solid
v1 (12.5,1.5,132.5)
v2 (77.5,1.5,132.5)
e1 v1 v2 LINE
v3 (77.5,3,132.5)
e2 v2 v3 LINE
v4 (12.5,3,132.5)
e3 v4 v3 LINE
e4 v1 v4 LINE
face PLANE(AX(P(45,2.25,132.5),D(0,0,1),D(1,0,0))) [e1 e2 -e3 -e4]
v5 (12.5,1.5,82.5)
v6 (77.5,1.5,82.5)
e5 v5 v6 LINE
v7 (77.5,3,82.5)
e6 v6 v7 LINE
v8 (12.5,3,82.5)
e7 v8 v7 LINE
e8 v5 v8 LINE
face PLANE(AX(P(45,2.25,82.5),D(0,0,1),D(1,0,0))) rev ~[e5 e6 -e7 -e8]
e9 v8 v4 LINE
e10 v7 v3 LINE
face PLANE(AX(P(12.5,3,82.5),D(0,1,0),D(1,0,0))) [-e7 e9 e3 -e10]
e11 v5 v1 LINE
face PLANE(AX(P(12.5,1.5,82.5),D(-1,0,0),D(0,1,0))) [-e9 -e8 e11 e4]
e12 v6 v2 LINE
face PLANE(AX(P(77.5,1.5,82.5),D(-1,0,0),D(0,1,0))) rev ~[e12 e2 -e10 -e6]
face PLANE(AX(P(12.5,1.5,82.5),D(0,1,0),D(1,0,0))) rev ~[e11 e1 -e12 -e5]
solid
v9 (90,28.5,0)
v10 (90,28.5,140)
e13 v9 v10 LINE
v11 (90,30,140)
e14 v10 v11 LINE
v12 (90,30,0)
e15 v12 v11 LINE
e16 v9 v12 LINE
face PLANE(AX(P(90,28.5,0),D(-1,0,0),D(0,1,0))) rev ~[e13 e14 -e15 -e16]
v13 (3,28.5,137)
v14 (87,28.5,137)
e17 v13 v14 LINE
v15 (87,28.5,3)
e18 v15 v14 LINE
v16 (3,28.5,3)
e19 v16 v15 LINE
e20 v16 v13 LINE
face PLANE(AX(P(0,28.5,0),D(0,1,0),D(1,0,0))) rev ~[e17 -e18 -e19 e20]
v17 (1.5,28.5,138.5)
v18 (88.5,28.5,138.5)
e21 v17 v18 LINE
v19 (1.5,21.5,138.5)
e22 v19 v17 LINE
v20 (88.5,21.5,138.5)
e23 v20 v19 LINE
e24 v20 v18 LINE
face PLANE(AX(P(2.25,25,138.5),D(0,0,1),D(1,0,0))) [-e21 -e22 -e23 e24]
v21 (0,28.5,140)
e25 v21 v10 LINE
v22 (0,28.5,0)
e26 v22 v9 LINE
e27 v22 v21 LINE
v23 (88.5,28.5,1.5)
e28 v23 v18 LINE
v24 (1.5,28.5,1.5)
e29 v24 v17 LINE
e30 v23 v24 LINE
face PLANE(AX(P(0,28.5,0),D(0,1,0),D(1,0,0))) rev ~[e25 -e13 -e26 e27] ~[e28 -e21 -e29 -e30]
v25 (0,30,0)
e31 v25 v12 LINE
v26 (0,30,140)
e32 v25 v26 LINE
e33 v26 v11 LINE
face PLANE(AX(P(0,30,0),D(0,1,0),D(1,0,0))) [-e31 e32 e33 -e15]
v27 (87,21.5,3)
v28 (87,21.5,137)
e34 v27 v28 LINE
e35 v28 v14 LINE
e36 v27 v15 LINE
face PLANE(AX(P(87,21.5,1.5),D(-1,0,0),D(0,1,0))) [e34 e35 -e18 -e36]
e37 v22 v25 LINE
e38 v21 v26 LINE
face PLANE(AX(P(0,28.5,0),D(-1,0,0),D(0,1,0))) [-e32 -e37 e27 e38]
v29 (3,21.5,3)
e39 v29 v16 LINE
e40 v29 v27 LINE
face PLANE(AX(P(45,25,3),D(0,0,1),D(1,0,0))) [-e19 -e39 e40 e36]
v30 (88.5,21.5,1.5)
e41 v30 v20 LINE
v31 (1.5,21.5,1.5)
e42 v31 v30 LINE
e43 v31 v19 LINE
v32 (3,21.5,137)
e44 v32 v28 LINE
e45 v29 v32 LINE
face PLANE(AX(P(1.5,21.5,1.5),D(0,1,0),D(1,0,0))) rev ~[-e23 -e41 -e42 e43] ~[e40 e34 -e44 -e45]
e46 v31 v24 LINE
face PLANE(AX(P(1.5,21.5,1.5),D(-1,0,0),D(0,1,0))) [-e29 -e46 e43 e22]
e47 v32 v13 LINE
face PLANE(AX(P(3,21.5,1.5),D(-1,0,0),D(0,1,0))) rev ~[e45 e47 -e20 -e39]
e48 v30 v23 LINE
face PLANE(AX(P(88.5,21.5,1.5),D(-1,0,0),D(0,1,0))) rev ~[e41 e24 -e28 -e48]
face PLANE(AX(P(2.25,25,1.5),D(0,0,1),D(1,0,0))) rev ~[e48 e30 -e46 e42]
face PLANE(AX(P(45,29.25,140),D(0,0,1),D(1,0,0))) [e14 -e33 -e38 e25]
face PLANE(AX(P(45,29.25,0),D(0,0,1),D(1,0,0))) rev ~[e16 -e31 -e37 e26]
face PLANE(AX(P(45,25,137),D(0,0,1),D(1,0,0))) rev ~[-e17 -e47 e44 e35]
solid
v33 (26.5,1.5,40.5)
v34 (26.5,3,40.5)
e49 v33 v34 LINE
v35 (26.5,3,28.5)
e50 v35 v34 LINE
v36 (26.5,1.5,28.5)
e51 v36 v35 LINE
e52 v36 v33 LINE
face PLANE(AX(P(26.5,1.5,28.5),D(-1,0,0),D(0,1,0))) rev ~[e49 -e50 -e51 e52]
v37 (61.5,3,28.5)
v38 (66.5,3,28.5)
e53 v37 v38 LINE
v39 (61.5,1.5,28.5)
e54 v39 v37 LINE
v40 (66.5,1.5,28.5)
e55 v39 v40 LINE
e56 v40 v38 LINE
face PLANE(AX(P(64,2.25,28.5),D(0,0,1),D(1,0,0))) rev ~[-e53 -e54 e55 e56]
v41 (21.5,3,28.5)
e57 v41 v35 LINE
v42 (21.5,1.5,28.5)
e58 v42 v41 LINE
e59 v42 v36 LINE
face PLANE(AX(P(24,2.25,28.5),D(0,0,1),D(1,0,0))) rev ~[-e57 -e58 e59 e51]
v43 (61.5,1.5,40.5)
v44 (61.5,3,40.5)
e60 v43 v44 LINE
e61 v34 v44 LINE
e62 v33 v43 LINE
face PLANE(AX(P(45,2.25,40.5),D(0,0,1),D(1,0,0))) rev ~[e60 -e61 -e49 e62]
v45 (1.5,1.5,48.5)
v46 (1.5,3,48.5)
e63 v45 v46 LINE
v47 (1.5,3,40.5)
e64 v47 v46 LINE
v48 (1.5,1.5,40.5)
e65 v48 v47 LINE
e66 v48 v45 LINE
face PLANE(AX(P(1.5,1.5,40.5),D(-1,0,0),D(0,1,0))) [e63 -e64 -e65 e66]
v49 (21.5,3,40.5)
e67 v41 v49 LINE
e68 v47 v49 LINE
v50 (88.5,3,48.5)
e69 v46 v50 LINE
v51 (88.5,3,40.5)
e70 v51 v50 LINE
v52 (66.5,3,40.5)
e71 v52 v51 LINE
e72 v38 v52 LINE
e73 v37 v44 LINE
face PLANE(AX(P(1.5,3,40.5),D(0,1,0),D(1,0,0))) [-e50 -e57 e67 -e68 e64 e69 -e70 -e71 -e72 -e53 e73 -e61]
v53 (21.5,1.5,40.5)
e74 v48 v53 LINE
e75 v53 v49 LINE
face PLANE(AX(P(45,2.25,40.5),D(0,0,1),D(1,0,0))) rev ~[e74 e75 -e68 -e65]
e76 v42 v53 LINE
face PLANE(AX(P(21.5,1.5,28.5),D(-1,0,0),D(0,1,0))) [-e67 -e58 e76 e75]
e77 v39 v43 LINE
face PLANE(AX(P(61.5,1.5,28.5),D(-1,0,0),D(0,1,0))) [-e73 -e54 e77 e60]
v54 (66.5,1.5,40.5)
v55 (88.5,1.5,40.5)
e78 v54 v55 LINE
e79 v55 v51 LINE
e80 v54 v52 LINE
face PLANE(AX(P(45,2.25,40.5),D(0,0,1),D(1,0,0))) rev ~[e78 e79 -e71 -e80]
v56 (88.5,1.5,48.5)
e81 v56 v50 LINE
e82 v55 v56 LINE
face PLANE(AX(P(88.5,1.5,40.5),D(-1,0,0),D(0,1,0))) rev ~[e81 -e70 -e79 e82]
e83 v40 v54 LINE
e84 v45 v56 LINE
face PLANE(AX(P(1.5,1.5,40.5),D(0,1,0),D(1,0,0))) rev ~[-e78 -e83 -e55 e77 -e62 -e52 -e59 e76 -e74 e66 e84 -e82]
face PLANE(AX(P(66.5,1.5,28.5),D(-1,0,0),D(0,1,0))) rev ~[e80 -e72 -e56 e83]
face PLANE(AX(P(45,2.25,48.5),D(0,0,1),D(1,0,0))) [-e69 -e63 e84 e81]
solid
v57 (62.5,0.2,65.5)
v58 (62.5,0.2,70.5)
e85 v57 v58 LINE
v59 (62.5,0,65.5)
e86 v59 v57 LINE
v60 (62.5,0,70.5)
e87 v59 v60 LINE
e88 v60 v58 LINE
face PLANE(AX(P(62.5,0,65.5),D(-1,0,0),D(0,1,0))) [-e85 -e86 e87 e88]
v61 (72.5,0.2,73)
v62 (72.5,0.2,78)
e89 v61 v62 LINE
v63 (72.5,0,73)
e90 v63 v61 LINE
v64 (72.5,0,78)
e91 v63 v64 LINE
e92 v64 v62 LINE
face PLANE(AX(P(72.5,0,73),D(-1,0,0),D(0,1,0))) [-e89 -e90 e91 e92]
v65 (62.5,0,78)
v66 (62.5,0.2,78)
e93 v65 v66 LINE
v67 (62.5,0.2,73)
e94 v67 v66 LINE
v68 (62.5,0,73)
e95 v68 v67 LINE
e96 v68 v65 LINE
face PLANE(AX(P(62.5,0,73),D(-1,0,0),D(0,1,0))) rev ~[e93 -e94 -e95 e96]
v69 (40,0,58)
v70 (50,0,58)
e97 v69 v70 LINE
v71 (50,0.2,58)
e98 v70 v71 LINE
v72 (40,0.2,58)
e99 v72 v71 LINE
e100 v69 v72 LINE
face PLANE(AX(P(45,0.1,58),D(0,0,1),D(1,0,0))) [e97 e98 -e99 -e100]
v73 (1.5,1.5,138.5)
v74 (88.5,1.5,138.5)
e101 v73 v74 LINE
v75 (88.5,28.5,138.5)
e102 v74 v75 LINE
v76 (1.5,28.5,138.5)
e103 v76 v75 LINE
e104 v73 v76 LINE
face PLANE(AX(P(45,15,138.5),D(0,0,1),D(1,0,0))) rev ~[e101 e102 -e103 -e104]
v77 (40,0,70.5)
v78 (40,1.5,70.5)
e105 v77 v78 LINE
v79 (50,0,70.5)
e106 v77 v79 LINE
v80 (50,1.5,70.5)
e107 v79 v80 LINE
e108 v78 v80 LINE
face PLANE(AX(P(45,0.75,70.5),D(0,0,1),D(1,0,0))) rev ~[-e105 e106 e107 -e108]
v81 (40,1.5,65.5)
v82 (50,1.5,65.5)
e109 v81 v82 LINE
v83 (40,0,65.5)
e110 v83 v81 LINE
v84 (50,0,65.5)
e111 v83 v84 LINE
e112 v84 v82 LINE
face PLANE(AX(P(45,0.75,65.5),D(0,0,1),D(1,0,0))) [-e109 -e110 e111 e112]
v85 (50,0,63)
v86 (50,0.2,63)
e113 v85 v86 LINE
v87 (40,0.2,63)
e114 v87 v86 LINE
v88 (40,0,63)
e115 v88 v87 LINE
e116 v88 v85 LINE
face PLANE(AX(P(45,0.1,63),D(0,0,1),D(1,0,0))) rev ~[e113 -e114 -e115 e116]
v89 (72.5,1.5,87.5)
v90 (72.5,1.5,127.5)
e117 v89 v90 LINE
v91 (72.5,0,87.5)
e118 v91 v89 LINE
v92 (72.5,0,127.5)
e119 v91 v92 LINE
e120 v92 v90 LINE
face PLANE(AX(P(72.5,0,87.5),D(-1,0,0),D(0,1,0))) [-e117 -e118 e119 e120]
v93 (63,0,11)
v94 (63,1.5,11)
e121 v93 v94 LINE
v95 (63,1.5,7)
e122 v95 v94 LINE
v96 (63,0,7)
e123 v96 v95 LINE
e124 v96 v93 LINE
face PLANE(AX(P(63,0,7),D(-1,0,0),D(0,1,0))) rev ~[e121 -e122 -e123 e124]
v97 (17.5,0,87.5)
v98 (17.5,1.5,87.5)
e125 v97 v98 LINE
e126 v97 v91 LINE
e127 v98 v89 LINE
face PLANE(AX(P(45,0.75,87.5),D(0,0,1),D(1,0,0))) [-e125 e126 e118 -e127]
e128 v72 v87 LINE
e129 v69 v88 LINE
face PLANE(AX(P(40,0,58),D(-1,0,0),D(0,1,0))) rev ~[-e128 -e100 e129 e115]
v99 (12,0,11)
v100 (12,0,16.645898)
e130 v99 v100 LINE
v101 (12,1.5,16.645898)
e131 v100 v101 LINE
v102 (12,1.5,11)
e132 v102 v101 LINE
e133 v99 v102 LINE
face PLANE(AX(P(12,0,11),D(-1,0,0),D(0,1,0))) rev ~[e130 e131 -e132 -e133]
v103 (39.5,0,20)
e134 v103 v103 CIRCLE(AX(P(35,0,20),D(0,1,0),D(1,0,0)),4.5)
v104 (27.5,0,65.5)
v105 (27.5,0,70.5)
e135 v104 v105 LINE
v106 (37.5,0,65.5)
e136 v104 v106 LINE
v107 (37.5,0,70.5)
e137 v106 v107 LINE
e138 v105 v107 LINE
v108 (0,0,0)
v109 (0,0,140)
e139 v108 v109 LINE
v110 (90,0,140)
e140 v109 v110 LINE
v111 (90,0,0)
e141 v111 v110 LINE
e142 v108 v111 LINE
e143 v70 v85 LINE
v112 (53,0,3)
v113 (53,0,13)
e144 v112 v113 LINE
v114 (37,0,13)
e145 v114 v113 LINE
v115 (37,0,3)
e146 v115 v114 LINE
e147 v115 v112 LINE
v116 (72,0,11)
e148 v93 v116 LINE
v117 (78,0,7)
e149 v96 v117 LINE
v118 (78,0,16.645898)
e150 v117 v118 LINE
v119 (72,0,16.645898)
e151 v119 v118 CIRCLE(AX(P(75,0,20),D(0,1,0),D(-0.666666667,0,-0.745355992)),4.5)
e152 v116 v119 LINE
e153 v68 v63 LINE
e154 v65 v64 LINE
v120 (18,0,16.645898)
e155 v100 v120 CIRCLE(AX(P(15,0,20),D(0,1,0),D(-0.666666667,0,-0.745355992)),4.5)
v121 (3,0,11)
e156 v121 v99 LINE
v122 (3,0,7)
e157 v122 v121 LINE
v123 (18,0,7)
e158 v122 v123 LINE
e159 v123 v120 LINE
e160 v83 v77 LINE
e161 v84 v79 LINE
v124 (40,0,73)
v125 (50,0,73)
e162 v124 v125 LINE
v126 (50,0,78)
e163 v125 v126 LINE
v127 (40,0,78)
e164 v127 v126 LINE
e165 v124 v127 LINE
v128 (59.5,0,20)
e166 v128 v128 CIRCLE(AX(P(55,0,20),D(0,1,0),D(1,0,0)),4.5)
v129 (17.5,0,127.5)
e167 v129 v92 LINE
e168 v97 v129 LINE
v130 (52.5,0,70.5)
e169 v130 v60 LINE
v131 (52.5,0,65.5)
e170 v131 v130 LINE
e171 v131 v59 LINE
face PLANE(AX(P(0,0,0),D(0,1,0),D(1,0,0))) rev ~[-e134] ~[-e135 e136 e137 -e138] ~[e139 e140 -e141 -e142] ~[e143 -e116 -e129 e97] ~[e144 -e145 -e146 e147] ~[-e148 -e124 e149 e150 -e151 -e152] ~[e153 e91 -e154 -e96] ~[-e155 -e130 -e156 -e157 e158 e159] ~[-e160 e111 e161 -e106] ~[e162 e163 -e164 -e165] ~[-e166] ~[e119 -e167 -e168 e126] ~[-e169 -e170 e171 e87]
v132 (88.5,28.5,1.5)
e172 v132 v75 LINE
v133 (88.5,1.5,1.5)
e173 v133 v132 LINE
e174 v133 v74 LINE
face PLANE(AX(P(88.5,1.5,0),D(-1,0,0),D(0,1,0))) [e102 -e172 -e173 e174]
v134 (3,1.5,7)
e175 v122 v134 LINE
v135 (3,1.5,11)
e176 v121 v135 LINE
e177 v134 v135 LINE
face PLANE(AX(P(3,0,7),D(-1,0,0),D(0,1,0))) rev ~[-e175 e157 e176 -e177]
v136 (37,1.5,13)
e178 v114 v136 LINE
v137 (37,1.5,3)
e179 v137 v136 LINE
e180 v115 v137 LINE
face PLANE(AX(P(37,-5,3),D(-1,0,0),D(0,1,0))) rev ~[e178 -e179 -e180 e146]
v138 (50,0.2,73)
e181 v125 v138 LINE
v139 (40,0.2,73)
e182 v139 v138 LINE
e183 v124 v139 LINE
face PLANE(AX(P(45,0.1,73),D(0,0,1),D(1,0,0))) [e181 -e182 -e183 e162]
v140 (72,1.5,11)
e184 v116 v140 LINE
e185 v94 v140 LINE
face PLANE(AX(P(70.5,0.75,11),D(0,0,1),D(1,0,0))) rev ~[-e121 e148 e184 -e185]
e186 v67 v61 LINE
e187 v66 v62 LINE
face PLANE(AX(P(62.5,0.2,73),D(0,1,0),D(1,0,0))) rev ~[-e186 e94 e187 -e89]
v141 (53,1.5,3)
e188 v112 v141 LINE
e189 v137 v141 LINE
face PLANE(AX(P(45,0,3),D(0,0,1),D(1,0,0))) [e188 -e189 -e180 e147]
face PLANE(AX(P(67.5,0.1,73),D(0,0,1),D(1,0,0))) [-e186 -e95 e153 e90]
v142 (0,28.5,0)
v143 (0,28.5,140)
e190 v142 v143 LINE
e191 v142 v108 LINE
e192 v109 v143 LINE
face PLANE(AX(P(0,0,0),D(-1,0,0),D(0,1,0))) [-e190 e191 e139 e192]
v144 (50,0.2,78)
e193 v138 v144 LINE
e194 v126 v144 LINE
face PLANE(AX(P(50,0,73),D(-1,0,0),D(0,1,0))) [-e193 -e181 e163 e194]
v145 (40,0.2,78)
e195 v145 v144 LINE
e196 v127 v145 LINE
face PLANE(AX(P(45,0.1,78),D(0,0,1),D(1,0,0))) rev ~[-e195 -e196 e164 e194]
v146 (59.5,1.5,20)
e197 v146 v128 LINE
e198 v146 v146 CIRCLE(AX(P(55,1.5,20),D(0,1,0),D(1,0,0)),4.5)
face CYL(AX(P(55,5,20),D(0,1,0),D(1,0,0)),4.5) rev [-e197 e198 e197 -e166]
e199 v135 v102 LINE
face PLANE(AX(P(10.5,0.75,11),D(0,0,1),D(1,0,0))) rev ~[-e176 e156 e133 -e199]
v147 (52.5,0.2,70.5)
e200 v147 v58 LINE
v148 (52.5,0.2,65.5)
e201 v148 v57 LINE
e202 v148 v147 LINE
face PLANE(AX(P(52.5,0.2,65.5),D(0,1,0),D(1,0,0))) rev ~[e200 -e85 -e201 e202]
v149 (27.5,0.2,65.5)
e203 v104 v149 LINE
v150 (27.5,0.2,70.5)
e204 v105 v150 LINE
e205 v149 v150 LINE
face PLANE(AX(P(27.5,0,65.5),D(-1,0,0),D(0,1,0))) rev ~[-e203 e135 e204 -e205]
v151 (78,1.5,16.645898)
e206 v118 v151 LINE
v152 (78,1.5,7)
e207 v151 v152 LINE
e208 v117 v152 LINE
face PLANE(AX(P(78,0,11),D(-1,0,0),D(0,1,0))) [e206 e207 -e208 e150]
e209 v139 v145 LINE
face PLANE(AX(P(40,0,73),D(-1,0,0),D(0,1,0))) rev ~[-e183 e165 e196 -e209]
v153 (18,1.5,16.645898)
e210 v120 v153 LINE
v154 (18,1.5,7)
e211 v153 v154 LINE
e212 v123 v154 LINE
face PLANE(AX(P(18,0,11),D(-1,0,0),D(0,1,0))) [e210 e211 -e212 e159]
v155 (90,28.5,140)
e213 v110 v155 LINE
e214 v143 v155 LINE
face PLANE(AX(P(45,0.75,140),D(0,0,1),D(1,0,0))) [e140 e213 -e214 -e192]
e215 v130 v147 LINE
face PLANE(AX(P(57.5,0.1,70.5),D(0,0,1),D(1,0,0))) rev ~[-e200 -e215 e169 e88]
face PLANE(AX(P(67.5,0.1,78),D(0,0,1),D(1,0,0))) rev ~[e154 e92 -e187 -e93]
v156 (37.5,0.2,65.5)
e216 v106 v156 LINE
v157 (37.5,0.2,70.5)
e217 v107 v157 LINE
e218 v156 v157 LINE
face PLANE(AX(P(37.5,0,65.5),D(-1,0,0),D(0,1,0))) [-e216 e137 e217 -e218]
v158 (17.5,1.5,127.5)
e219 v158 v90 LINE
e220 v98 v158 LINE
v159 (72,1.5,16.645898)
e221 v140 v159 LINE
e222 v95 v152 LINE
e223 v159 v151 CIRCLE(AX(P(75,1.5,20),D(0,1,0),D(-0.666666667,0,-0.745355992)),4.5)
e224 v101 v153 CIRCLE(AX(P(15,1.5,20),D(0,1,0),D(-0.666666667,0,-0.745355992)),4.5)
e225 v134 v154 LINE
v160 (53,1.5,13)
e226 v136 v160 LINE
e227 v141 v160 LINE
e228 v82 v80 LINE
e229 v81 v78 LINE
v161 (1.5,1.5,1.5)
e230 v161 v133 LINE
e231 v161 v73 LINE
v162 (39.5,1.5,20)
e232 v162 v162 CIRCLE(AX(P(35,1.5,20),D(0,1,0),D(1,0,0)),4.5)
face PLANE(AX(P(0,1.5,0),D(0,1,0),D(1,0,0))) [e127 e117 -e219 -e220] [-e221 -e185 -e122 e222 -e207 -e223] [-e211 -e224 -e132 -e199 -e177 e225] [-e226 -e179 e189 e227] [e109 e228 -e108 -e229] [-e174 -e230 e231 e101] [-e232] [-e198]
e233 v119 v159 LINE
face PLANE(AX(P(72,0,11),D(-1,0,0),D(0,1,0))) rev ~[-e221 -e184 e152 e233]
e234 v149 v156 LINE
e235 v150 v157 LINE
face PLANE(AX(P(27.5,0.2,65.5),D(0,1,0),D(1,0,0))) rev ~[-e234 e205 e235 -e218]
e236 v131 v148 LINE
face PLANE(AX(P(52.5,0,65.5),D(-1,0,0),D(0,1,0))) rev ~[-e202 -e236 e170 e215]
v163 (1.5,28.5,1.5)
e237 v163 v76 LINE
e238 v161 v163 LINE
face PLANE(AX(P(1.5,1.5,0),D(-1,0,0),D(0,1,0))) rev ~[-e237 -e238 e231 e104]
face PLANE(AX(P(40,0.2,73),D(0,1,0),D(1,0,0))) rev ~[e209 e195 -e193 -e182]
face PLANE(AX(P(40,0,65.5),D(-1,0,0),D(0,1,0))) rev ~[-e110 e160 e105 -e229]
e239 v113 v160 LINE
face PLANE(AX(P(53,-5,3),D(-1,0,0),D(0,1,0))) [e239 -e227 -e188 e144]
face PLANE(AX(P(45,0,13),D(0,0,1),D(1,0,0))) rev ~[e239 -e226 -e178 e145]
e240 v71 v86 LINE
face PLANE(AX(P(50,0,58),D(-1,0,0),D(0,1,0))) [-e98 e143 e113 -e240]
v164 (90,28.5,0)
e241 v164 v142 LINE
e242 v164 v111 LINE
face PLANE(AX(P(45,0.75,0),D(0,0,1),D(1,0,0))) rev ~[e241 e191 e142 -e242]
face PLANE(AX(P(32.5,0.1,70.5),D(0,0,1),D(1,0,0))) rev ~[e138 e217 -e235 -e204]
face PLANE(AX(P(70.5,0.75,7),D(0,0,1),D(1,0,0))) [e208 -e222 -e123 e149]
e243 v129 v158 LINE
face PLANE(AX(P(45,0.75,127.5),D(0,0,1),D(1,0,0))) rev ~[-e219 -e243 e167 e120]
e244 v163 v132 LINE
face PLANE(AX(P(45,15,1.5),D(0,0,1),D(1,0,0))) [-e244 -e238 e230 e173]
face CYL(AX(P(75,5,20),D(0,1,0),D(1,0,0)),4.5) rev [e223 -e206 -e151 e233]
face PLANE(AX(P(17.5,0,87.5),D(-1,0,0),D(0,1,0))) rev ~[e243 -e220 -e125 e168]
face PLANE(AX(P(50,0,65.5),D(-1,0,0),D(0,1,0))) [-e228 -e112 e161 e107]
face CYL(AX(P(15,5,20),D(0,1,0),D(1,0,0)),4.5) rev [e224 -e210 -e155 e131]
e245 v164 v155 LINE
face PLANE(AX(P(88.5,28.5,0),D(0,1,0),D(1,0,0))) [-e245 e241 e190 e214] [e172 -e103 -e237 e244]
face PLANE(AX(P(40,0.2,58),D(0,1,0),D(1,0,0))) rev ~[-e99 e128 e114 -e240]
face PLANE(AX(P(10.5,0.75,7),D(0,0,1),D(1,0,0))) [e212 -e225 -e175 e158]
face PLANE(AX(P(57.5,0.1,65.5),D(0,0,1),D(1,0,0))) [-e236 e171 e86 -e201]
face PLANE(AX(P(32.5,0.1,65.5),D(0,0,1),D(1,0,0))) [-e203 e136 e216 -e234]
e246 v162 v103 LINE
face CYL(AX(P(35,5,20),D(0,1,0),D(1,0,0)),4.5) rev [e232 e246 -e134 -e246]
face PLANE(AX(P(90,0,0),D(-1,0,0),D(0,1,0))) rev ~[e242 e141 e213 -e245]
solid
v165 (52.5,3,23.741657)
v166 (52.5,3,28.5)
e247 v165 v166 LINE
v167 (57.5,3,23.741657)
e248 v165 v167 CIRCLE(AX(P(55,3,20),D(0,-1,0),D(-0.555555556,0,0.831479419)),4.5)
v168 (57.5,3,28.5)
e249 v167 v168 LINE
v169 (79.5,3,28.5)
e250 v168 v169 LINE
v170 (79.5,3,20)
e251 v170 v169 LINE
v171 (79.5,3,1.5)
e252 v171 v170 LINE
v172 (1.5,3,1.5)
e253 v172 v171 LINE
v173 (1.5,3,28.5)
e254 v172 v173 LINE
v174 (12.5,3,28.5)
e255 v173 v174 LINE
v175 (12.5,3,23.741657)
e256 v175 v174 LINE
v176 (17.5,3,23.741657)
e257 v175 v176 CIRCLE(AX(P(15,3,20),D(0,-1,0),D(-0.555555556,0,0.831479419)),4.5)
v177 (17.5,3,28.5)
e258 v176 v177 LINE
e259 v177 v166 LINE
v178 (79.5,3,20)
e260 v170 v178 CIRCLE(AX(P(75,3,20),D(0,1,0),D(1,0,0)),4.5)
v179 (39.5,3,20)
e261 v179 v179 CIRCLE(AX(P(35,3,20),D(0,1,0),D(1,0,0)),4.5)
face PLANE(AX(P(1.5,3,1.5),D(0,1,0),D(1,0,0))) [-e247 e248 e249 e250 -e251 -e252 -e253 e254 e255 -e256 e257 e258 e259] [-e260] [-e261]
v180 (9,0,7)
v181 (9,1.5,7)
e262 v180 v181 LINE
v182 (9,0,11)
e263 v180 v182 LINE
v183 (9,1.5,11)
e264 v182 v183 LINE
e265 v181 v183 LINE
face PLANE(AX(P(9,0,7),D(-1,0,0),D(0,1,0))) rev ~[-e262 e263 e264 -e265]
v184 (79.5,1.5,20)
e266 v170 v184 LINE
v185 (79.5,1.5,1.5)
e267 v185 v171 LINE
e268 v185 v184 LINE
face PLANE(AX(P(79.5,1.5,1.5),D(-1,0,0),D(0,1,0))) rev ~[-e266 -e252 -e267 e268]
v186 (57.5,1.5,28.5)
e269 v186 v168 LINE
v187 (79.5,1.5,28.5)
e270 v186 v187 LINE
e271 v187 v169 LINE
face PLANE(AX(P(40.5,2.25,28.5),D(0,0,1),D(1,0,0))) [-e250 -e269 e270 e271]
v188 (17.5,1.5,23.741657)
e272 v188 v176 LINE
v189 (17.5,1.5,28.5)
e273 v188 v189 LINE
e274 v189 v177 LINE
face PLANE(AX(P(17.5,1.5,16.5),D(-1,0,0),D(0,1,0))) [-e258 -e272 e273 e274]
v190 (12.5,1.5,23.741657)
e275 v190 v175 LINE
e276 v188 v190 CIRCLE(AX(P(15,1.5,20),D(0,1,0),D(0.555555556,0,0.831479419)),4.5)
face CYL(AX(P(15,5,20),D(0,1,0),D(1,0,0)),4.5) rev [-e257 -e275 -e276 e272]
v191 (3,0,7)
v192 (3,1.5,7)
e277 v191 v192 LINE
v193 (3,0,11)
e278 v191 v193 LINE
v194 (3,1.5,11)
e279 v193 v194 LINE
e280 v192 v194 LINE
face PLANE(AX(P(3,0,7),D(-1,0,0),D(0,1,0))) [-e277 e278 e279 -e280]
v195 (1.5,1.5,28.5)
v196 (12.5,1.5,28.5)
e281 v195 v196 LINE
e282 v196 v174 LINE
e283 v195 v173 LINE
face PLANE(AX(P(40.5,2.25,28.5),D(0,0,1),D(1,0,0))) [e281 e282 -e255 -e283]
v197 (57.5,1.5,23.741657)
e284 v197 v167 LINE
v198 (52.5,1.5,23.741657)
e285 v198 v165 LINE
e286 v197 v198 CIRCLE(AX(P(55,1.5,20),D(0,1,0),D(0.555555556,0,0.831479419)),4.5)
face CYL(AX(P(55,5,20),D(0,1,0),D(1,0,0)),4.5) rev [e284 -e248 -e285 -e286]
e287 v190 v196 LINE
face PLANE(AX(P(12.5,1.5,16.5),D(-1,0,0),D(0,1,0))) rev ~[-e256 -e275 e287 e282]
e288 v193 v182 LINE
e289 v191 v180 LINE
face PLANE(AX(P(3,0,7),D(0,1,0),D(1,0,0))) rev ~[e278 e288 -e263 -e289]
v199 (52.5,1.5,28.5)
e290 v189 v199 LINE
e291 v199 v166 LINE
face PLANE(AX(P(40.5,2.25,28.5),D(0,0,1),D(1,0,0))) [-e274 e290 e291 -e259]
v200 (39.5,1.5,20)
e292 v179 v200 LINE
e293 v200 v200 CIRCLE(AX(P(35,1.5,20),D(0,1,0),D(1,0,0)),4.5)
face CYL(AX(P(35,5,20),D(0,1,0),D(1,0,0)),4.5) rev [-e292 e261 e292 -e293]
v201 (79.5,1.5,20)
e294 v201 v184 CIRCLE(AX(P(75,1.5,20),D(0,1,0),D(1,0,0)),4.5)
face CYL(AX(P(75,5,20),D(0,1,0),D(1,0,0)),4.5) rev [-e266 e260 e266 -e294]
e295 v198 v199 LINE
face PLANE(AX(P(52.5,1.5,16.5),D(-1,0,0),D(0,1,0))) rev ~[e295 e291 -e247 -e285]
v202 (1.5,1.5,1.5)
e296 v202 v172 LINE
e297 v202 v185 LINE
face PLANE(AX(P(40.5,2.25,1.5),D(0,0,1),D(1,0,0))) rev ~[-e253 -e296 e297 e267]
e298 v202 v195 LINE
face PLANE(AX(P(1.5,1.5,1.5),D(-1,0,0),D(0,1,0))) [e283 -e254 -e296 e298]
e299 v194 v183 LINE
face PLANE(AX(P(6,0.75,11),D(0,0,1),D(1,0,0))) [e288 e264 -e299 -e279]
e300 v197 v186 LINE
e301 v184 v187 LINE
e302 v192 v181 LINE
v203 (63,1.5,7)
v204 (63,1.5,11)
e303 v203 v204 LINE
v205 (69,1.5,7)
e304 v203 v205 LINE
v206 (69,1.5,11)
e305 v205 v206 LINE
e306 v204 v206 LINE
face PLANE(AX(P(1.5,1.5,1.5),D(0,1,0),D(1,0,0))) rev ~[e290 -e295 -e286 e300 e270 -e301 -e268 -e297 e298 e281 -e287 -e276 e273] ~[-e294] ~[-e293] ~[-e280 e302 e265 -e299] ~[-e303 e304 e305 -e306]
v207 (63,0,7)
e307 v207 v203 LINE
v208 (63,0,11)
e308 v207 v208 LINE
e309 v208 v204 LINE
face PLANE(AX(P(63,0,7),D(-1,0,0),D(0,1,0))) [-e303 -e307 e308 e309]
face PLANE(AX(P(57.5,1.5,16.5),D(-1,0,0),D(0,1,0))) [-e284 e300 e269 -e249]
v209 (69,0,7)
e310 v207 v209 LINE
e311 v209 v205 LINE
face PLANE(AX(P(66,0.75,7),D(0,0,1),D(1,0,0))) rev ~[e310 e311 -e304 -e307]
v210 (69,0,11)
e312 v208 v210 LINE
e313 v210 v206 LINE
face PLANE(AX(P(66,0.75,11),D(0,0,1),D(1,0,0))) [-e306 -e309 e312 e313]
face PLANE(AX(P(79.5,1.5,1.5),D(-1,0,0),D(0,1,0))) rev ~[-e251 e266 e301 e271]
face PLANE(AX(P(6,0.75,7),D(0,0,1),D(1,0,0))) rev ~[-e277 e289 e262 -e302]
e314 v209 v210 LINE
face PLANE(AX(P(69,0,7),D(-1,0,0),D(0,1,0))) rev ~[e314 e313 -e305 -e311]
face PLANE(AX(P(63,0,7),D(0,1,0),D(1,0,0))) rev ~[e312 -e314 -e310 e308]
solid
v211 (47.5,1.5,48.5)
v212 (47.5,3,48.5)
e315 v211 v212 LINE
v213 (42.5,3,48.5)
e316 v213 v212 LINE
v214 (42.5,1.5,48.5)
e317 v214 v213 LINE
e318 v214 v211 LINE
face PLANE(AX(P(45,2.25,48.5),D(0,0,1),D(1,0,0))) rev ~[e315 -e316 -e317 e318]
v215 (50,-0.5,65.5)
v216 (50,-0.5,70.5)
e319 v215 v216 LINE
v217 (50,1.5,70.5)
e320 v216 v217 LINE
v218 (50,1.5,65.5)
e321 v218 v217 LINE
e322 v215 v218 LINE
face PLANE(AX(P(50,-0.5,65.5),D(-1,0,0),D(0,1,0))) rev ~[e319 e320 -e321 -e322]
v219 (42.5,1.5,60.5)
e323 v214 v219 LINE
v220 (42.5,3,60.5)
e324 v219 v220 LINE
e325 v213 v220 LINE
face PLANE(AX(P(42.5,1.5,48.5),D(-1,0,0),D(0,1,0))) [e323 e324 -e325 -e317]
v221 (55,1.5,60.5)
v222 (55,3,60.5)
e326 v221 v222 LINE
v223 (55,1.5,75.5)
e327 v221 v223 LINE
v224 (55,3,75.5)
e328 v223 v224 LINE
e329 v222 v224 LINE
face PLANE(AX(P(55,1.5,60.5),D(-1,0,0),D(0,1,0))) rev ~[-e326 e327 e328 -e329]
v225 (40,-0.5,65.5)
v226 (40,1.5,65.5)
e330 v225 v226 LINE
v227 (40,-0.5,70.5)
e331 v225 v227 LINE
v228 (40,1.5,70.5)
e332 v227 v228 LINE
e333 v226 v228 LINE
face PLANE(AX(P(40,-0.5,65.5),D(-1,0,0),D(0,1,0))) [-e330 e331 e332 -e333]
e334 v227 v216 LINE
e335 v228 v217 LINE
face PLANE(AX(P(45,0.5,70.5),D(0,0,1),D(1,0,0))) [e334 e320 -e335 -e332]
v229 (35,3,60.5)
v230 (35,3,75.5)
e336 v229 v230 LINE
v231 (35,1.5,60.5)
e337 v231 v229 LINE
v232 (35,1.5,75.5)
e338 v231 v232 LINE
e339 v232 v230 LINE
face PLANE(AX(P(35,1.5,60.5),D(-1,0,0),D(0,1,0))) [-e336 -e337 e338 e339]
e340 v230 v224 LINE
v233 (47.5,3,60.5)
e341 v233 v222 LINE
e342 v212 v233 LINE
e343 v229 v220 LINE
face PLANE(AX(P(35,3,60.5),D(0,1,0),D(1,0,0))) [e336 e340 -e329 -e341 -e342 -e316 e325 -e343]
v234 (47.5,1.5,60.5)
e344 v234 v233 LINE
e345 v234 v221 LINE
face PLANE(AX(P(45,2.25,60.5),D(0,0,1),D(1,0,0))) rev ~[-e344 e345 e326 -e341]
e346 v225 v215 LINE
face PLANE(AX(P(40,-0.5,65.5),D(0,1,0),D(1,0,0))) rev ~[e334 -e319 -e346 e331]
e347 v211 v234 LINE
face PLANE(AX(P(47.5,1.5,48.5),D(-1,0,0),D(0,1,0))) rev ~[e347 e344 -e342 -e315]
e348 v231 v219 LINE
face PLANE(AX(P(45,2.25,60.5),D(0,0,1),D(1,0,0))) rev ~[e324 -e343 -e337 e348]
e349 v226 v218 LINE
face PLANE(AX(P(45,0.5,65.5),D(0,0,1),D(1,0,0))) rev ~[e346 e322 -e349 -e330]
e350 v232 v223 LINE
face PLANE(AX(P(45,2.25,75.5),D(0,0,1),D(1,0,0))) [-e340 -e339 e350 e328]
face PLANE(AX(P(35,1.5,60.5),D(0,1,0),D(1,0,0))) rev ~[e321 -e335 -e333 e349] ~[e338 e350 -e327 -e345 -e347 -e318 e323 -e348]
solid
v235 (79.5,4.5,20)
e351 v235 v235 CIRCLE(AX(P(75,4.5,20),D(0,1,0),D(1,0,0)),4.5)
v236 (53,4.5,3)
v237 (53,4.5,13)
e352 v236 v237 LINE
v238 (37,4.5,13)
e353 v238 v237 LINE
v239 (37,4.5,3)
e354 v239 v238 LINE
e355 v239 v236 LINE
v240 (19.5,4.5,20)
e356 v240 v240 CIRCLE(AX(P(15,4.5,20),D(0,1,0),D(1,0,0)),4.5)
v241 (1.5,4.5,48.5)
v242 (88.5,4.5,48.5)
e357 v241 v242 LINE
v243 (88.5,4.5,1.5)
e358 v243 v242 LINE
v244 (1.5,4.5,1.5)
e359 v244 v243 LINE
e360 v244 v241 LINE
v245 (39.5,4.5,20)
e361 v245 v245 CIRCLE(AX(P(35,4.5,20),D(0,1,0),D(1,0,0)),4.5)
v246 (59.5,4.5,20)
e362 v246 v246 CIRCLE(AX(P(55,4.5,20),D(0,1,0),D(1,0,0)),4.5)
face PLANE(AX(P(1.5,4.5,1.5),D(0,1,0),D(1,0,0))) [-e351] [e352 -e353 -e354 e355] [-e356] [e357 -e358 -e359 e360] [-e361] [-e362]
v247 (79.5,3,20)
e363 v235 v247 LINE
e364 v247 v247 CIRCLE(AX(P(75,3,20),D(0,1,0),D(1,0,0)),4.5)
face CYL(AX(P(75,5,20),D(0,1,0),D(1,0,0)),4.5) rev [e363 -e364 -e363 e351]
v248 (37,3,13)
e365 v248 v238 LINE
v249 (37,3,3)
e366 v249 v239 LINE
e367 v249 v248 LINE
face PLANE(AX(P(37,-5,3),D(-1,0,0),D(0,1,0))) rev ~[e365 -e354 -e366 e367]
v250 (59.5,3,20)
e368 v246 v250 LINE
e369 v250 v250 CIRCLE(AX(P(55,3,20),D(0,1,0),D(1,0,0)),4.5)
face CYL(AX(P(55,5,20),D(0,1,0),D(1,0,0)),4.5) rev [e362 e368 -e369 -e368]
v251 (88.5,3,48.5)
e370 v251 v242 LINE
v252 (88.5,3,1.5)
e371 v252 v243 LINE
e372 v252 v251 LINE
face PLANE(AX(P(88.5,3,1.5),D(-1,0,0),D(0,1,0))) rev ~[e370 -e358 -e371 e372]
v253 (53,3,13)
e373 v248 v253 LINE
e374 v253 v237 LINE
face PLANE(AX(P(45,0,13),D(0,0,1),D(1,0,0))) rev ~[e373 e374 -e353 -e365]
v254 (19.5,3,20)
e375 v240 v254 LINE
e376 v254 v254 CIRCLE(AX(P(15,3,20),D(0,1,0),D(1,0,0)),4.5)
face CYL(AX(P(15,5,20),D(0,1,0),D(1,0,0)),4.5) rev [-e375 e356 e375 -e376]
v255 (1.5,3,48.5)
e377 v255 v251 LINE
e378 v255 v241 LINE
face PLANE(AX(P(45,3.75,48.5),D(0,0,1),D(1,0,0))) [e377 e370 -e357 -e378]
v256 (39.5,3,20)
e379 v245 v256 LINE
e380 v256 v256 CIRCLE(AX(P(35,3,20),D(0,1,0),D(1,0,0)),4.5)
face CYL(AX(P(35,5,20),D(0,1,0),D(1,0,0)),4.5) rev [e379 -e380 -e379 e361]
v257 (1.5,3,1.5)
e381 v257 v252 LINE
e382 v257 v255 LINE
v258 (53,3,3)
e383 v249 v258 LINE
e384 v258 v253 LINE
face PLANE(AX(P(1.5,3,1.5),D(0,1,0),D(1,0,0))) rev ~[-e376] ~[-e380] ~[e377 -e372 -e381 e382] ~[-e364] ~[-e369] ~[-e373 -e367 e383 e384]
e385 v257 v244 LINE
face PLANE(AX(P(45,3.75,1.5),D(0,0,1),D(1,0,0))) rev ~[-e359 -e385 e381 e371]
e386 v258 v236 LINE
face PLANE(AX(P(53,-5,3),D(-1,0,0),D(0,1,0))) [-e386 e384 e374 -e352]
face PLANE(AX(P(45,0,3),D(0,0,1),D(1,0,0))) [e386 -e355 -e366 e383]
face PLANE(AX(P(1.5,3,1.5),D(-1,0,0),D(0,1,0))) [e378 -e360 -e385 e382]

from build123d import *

# Parameters (mm, degrees)
BOX011_W               = 65
BOX011_H               = 1.5
BOX011_DEPTH           = 50
BOX008_W               = 1.5
BOX008_H               = 7
BOX008_DEPTH           = 137
BOX007_W               = 90
BOX007_H               = 1.5
BOX007_DEPTH           = 140
BOX009_W               = 84
BOX009_H               = 7
BOX009_DEPTH           = 1.5
BOX006_W               = 1.5
BOX006_H               = 7
BOX006_DEPTH           = 137
BOX005_W               = 84
BOX005_H               = 7
BOX005_DEPTH           = 1.5
CYLINDER008_R          = 4.5
CYLINDER008_DEPTH      = 10
CYLINDER008_ROLL_ANGLE = 90
CYLINDER010_R          = 4.5
CYLINDER010_DEPTH      = 10
CYLINDER010_ROLL_ANGLE = 90
CYLINDER009_R          = 4.5
CYLINDER009_DEPTH      = 10
CYLINDER009_ROLL_ANGLE = 90
CYLINDER011_R          = 4.5
CYLINDER011_DEPTH      = 10
CYLINDER011_ROLL_ANGLE = 90
BOX023_W               = 16
BOX023_H               = 10
BOX023_DEPTH           = 10
BOX021_W               = 87
BOX021_H               = 1.5
BOX021_DEPTH           = 47
BOX028_W               = 6
BOX028_H               = 1.5
BOX028_DEPTH           = 4
BOX031_W               = 6
BOX031_H               = 1.5
BOX031_DEPTH           = 4
BOX027_W               = 5
BOX027_H               = 1.5
BOX027_DEPTH           = 12
BOX025_W               = 5
BOX025_H               = 1.5
BOX025_DEPTH           = 12
CYLINDER002_R          = 4.5
CYLINDER002_DEPTH      = 10
CYLINDER002_ROLL_ANGLE = 90
CYLINDER001_R          = 4.5
CYLINDER001_DEPTH      = 10
CYLINDER001_ROLL_ANGLE = 90
CYLINDER003_R          = 4.5
CYLINDER003_DEPTH      = 10
CYLINDER003_ROLL_ANGLE = 90
CYLINDER_R             = 4.5
CYLINDER_DEPTH         = 10
CYLINDER_ROLL_ANGLE    = 90
BOX012_W               = 78
BOX012_H               = 1.5
BOX012_DEPTH           = 27
BOX041_W               = 5
BOX041_H               = 1.5
BOX041_DEPTH           = 12
BOX040_W               = 20
BOX040_H               = 1.5
BOX040_DEPTH           = 15
BOX039_W               = 10
BOX039_H               = 2
BOX039_DEPTH           = 5
BOX026_W               = 5
BOX026_H               = 1.5
BOX026_DEPTH           = 12
BOX024_W               = 5
BOX024_H               = 1.5
BOX024_DEPTH           = 12
BOX017_W               = 87
BOX017_H               = 1.5
BOX017_DEPTH           = 8
BOX034_W               = 10
BOX034_H               = 0.2
BOX034_DEPTH           = 5
BOX035_W               = 10
BOX035_H               = 0.2
BOX035_DEPTH           = 5
BOX036_W               = 10
BOX036_H               = 0.2
BOX036_DEPTH           = 5
BOX037_W               = 10
BOX037_H               = 0.2
BOX037_DEPTH           = 5
BOX038_W               = 10
BOX038_H               = 1.5
BOX038_DEPTH           = 5
BOX042_W               = 10
BOX042_H               = 0.2
BOX042_DEPTH           = 5
BOX033_W               = 6
BOX033_H               = 1.5
BOX033_DEPTH           = 12
BOX032_W               = 15
BOX032_H               = 1.5
BOX032_DEPTH           = 4
BOX030_W               = 6
BOX030_H               = 1.5
BOX030_DEPTH           = 12
BOX029_W               = 15
BOX029_H               = 1.5
BOX029_DEPTH           = 4
BOX_W                  = 1.5
BOX_H                  = 27
BOX_DEPTH              = 140
BOX002_W               = 87
BOX002_H               = 27
BOX002_DEPTH           = 1.5
BOX001_W               = 1.5
BOX001_H               = 27
BOX001_DEPTH           = 140
CYLINDER004_R          = 4.5
CYLINDER004_DEPTH      = 10
CYLINDER004_ROLL_ANGLE = 90
CYLINDER006_R          = 4.5
CYLINDER006_DEPTH      = 10
CYLINDER006_ROLL_ANGLE = 90
CYLINDER005_R          = 4.5
CYLINDER005_DEPTH      = 10
CYLINDER005_ROLL_ANGLE = 90
CYLINDER007_R          = 4.5
CYLINDER007_DEPTH      = 10
CYLINDER007_ROLL_ANGLE = 90
BOX020_W               = 16
BOX020_H               = 10
BOX020_DEPTH           = 10
BOX019_W               = 55
BOX019_H               = 1.5
BOX019_DEPTH           = 40
BOX018_W               = 90
BOX018_H               = 1.5
BOX018_DEPTH           = 140
BOX004_W               = 87
BOX004_H               = 27
BOX004_DEPTH           = 1.5


with BuildPart() as cube011:
    # Box011 → Box011 (new body)
    with BuildSketch(Plane(origin=(12.5, 1.5, 82.5), x_dir=(1, 0, 0), z_dir=(0, 0, 1))):
        with Locations((32.5, 0.75)):
            Rectangle(BOX011_W, BOX011_H)
    extrude(amount=BOX011_DEPTH)


with BuildPart() as cube008:
    # Box008 → Box008 (new body)
    with BuildSketch(Plane(origin=(87, 21.5, 1.5), x_dir=(1, 0, 0), z_dir=(0, 0, 1))):
        with Locations((0.75, 3.5)):
            Rectangle(BOX008_W, BOX008_H)
    extrude(amount=BOX008_DEPTH)


with BuildPart() as cube007:
    # Box007 → Box007 (new body)
    with BuildSketch(Plane(origin=(0, 28.5, 0), x_dir=(1, 0, 0), z_dir=(0, 0, 1))):
        with Locations((45, 0.75)):
            Rectangle(BOX007_W, BOX007_H)
    extrude(amount=BOX007_DEPTH)


with BuildPart() as cube009:
    # Box009 → Box009 (new body)
    with BuildSketch(Plane(origin=(3, 21.5, 1.5), x_dir=(1, 0, 0), z_dir=(0, 0, 1))):
        with Locations((42, 3.5)):
            Rectangle(BOX009_W, BOX009_H)
    extrude(amount=BOX009_DEPTH)


with BuildPart() as cube006:
    # Box006 → Box006 (new body)
    with BuildSketch(Plane(origin=(1.5, 21.5, 1.5), x_dir=(1, 0, 0), z_dir=(0, 0, 1))):
        with Locations((0.75, 3.5)):
            Rectangle(BOX006_W, BOX006_H)
    extrude(amount=BOX006_DEPTH)


with BuildPart() as fusion001:
    # Box005 → Box005 (new body)
    with BuildSketch(Plane(origin=(3, 21.5, 137), x_dir=(1, 0, 0), z_dir=(0, 0, 1))):
        with Locations((42, 3.5)):
            Rectangle(BOX005_W, BOX005_H)
    extrude(amount=BOX005_DEPTH)

    # Fusion001: union Cube008, Cube007, Cube009, Cube006
    add(cube008.part)
    add(cube007.part)
    add(cube009.part)
    add(cube006.part)


with BuildPart() as cylinder008:
    # Cylinder008 → Cylinder008 (new body)
    with BuildSketch(Plane.XY):
        Circle(CYLINDER008_R)
    extrude(amount=CYLINDER008_DEPTH)


with BuildPart() as cylinder008_1:
    # Cylinder008 roll: moved
    add(cylinder008.part.rotate(Axis((0, 0, 0), (1, 0, 0)), CYLINDER008_ROLL_ANGLE))


with BuildPart() as cylinder008_2:
    # Cylinder008 placement: moved
    add(cylinder008_1.part.moved(Location((15, 5, 20))))


with BuildPart() as cylinder010:
    # Cylinder010 → Cylinder010 (new body)
    with BuildSketch(Plane.XY):
        Circle(CYLINDER010_R)
    extrude(amount=CYLINDER010_DEPTH)


with BuildPart() as cylinder010_1:
    # Cylinder010 roll: moved
    add(cylinder010.part.rotate(Axis((0, 0, 0), (1, 0, 0)), CYLINDER010_ROLL_ANGLE))


with BuildPart() as cylinder010_2:
    # Cylinder010 placement: moved
    add(cylinder010_1.part.moved(Location((35, 5, 20))))


with BuildPart() as cylinder009:
    # Cylinder009 → Cylinder009 (new body)
    with BuildSketch(Plane.XY):
        Circle(CYLINDER009_R)
    extrude(amount=CYLINDER009_DEPTH)


with BuildPart() as cylinder009_1:
    # Cylinder009 roll: moved
    add(cylinder009.part.rotate(Axis((0, 0, 0), (1, 0, 0)), CYLINDER009_ROLL_ANGLE))


with BuildPart() as cylinder009_2:
    # Cylinder009 placement: moved
    add(cylinder009_1.part.moved(Location((55, 5, 20))))


with BuildPart() as cylinder011:
    # Cylinder011 → Cylinder011 (new body)
    with BuildSketch(Plane.XY):
        Circle(CYLINDER011_R)
    extrude(amount=CYLINDER011_DEPTH)


with BuildPart() as cylinder011_1:
    # Cylinder011 roll: moved
    add(cylinder011.part.rotate(Axis((0, 0, 0), (1, 0, 0)), CYLINDER011_ROLL_ANGLE))


with BuildPart() as cylinder011_2:
    # Cylinder011 placement: moved
    add(cylinder011_1.part.moved(Location((75, 5, 20))))


with BuildPart() as fusion004:
    # Box023 → Box023 (new body)
    with BuildSketch(Plane(origin=(37, -5, 3), x_dir=(1, 0, 0), z_dir=(0, 0, 1))):
        with Locations((8, 5)):
            Rectangle(BOX023_W, BOX023_H)
    extrude(amount=BOX023_DEPTH)

    # Fusion004: union Cylinder008, Cylinder010, Cylinder009, Cylinder011
    add(cylinder008_2.part)
    add(cylinder010_2.part)
    add(cylinder009_2.part)
    add(cylinder011_2.part)


with BuildPart() as cut:
    # Box021 → Box021 (new body)
    with BuildSketch(Plane(origin=(1.5, 3, 1.5), x_dir=(1, 0, 0), z_dir=(0, 0, 1))):
        with Locations((43.5, 0.75)):
            Rectangle(BOX021_W, BOX021_H)
    extrude(amount=BOX021_DEPTH)

    # Cut: cut Fusion004
    add(fusion004.part, mode=Mode.SUBTRACT)


with BuildPart() as cube028:
    # Box028 → Box028 (new body)
    with BuildSketch(Plane(origin=(3, 0, 7), x_dir=(1, 0, 0), z_dir=(0, 0, 1))):
        with Locations((3, 0.75)):
            Rectangle(BOX028_W, BOX028_H)
    extrude(amount=BOX028_DEPTH)


with BuildPart() as cube031:
    # Box031 → Box031 (new body)
    with BuildSketch(Plane(origin=(63, 0, 7), x_dir=(1, 0, 0), z_dir=(0, 0, 1))):
        with Locations((3, 0.75)):
            Rectangle(BOX031_W, BOX031_H)
    extrude(amount=BOX031_DEPTH)


with BuildPart() as cube027:
    # Box027 → Box027 (new body)
    with BuildSketch(Plane(origin=(12.5, 1.5, 16.5), x_dir=(1, 0, 0), z_dir=(0, 0, 1))):
        with Locations((2.5, 0.75)):
            Rectangle(BOX027_W, BOX027_H)
    extrude(amount=BOX027_DEPTH)


with BuildPart() as cube025:
    # Box025 → Box025 (new body)
    with BuildSketch(Plane(origin=(52.5, 1.5, 16.5), x_dir=(1, 0, 0), z_dir=(0, 0, 1))):
        with Locations((2.5, 0.75)):
            Rectangle(BOX025_W, BOX025_H)
    extrude(amount=BOX025_DEPTH)


with BuildPart() as cylinder002:
    # Cylinder002 → Cylinder002 (new body)
    with BuildSketch(Plane.XY):
        Circle(CYLINDER002_R)
    extrude(amount=CYLINDER002_DEPTH)


with BuildPart() as cylinder002_1:
    # Cylinder002 roll: moved
    add(cylinder002.part.rotate(Axis((0, 0, 0), (1, 0, 0)), CYLINDER002_ROLL_ANGLE))


with BuildPart() as cylinder002_2:
    # Cylinder002 placement: moved
    add(cylinder002_1.part.moved(Location((35, 5, 20))))


with BuildPart() as cylinder001:
    # Cylinder001 → Cylinder001 (new body)
    with BuildSketch(Plane.XY):
        Circle(CYLINDER001_R)
    extrude(amount=CYLINDER001_DEPTH)


with BuildPart() as cylinder001_1:
    # Cylinder001 roll: moved
    add(cylinder001.part.rotate(Axis((0, 0, 0), (1, 0, 0)), CYLINDER001_ROLL_ANGLE))


with BuildPart() as cylinder001_2:
    # Cylinder001 placement: moved
    add(cylinder001_1.part.moved(Location((55, 5, 20))))


with BuildPart() as cylinder003:
    # Cylinder003 → Cylinder003 (new body)
    with BuildSketch(Plane.XY):
        Circle(CYLINDER003_R)
    extrude(amount=CYLINDER003_DEPTH)


with BuildPart() as cylinder003_1:
    # Cylinder003 roll: moved
    add(cylinder003.part.rotate(Axis((0, 0, 0), (1, 0, 0)), CYLINDER003_ROLL_ANGLE))


with BuildPart() as cylinder003_2:
    # Cylinder003 placement: moved
    add(cylinder003_1.part.moved(Location((75, 5, 20))))


with BuildPart() as fusion002:
    # Cylinder → Cylinder (new body)
    with BuildSketch(Plane.XY):
        Circle(CYLINDER_R)
    extrude(amount=CYLINDER_DEPTH)


with BuildPart() as fusion002_1:
    # Cylinder roll: moved
    add(fusion002.part.rotate(Axis((0, 0, 0), (1, 0, 0)), CYLINDER_ROLL_ANGLE))


with BuildPart() as fusion002_2:
    # Cylinder placement: moved
    add(fusion002_1.part.moved(Location((15, 5, 20))))

    # Fusion002: union Cylinder002, Cylinder001, Cylinder003
    add(cylinder002_2.part)
    add(cylinder001_2.part)
    add(cylinder003_2.part)


with BuildPart() as fusion008:
    # Box012 → Box012 (new body)
    with BuildSketch(Plane(origin=(1.5, 1.5, 1.5), x_dir=(1, 0, 0), z_dir=(0, 0, 1))):
        with Locations((39, 0.75)):
            Rectangle(BOX012_W, BOX012_H)
    extrude(amount=BOX012_DEPTH)

    # Cut002: cut Fusion002
    add(fusion002_2.part, mode=Mode.SUBTRACT)

    # Cut005: cut Cube025
    add(cube025.part, mode=Mode.SUBTRACT)

    # Cut006: cut Cube027
    add(cube027.part, mode=Mode.SUBTRACT)

    # Fusion008: union Cube028, Cube031
    add(cube028.part)
    add(cube031.part)


with BuildPart() as cube041:
    # Box041 → Box041 (new body)
    with BuildSketch(Plane(origin=(42.5, 1.5, 48.5), x_dir=(1, 0, 0), z_dir=(0, 0, 1))):
        with Locations((2.5, 0.75)):
            Rectangle(BOX041_W, BOX041_H)
    extrude(amount=BOX041_DEPTH)


with BuildPart() as cube040:
    # Box040 → Box040 (new body)
    with BuildSketch(Plane(origin=(35, 1.5, 60.5), x_dir=(1, 0, 0), z_dir=(0, 0, 1))):
        with Locations((10, 0.75)):
            Rectangle(BOX040_W, BOX040_H)
    extrude(amount=BOX040_DEPTH)


with BuildPart() as fusion010:
    # Box039 → Box039 (new body)
    with BuildSketch(Plane(origin=(40, -0.5, 65.5), x_dir=(1, 0, 0), z_dir=(0, 0, 1))):
        with Locations((5, 1)):
            Rectangle(BOX039_W, BOX039_H)
    extrude(amount=BOX039_DEPTH)

    # Fusion010: union Cube041, Cube040
    add(cube041.part)
    add(cube040.part)


with BuildPart() as cube026:
    # Box026 → Box026 (new body)
    with BuildSketch(Plane(origin=(61.5, 1.5, 28.5), x_dir=(1, 0, 0), z_dir=(0, 0, 1))):
        with Locations((2.5, 0.75)):
            Rectangle(BOX026_W, BOX026_H)
    extrude(amount=BOX026_DEPTH)


with BuildPart() as cube024:
    # Box024 → Box024 (new body)
    with BuildSketch(Plane(origin=(21.5, 1.5, 28.5), x_dir=(1, 0, 0), z_dir=(0, 0, 1))):
        with Locations((2.5, 0.75)):
            Rectangle(BOX024_W, BOX024_H)
    extrude(amount=BOX024_DEPTH)


with BuildPart() as fusion011:
    # Box017 → Box017 (new body)
    with BuildSketch(Plane(origin=(1.5, 1.5, 40.5), x_dir=(1, 0, 0), z_dir=(0, 0, 1))):
        with Locations((43.5, 0.75)):
            Rectangle(BOX017_W, BOX017_H)
    extrude(amount=BOX017_DEPTH)

    # Fusion011: union Cube026, Cube024
    add(cube026.part)
    add(cube024.part)


with BuildPart() as cube034:
    # Box034 → Box034 (new body)
    with BuildSketch(Plane(origin=(40, 0, 58), x_dir=(1, 0, 0), z_dir=(0, 0, 1))):
        with Locations((5, 0.1)):
            Rectangle(BOX034_W, BOX034_H)
    extrude(amount=BOX034_DEPTH)


with BuildPart() as cube035:
    # Box035 → Box035 (new body)
    with BuildSketch(Plane(origin=(40, 0, 73), x_dir=(1, 0, 0), z_dir=(0, 0, 1))):
        with Locations((5, 0.1)):
            Rectangle(BOX035_W, BOX035_H)
    extrude(amount=BOX035_DEPTH)


with BuildPart() as cube036:
    # Box036 → Box036 (new body)
    with BuildSketch(Plane(origin=(27.5, 0, 65.5), x_dir=(1, 0, 0), z_dir=(0, 0, 1))):
        with Locations((5, 0.1)):
            Rectangle(BOX036_W, BOX036_H)
    extrude(amount=BOX036_DEPTH)


with BuildPart() as cube037:
    # Box037 → Box037 (new body)
    with BuildSketch(Plane(origin=(52.5, 0, 65.5), x_dir=(1, 0, 0), z_dir=(0, 0, 1))):
        with Locations((5, 0.1)):
            Rectangle(BOX037_W, BOX037_H)
    extrude(amount=BOX037_DEPTH)


with BuildPart() as cube038:
    # Box038 → Box038 (new body)
    with BuildSketch(Plane(origin=(40, 0, 65.5), x_dir=(1, 0, 0), z_dir=(0, 0, 1))):
        with Locations((5, 0.75)):
            Rectangle(BOX038_W, BOX038_H)
    extrude(amount=BOX038_DEPTH)


with BuildPart() as fusion012:
    # Box042 → Box042 (new body)
    with BuildSketch(Plane(origin=(62.5, 0, 73), x_dir=(1, 0, 0), z_dir=(0, 0, 1))):
        with Locations((5, 0.1)):
            Rectangle(BOX042_W, BOX042_H)
    extrude(amount=BOX042_DEPTH)

    # Fusion012: union Cube034, Cube035, Cube036, Cube037, Cube038
    add(cube034.part)
    add(cube035.part)
    add(cube036.part)
    add(cube037.part)
    add(cube038.part)


with BuildPart() as cube033:
    # Box033 → Box033 (new body)
    with BuildSketch(Plane(origin=(72, 0, 11), x_dir=(1, 0, 0), z_dir=(0, 0, 1))):
        with Locations((3, 0.75)):
            Rectangle(BOX033_W, BOX033_H)
    extrude(amount=BOX033_DEPTH)


with BuildPart() as fusion006:
    # Box032 → Box032 (new body)
    with BuildSketch(Plane(origin=(63, 0, 7), x_dir=(1, 0, 0), z_dir=(0, 0, 1))):
        with Locations((7.5, 0.75)):
            Rectangle(BOX032_W, BOX032_H)
    extrude(amount=BOX032_DEPTH)

    # Fusion006: union Cube033
    add(cube033.part)


with BuildPart() as cube030:
    # Box030 → Box030 (new body)
    with BuildSketch(Plane(origin=(12, 0, 11), x_dir=(1, 0, 0), z_dir=(0, 0, 1))):
        with Locations((3, 0.75)):
            Rectangle(BOX030_W, BOX030_H)
    extrude(amount=BOX030_DEPTH)


with BuildPart() as fusion007:
    # Box029 → Box029 (new body)
    with BuildSketch(Plane(origin=(3, 0, 7), x_dir=(1, 0, 0), z_dir=(0, 0, 1))):
        with Locations((7.5, 0.75)):
            Rectangle(BOX029_W, BOX029_H)
    extrude(amount=BOX029_DEPTH)

    # Fusion005: union Cube030
    add(cube030.part)

    # Fusion007: union Fusion006
    add(fusion006.part)


with BuildPart() as cube:
    # Box → Box (new body)
    with BuildSketch(Plane(origin=(0, 1.5, 0), x_dir=(1, 0, 0), z_dir=(0, 0, 1))):
        with Locations((0.75, 13.5)):
            Rectangle(BOX_W, BOX_H)
    extrude(amount=BOX_DEPTH)


with BuildPart() as cube002:
    # Box002 → Box002 (new body)
    with BuildSketch(Plane(origin=(1.5, 1.5, 0), x_dir=(1, 0, 0), z_dir=(0, 0, 1))):
        with Locations((43.5, 13.5)):
            Rectangle(BOX002_W, BOX002_H)
    extrude(amount=BOX002_DEPTH)


with BuildPart() as cube001:
    # Box001 → Box001 (new body)
    with BuildSketch(Plane(origin=(88.5, 1.5, 0), x_dir=(1, 0, 0), z_dir=(0, 0, 1))):
        with Locations((0.75, 13.5)):
            Rectangle(BOX001_W, BOX001_H)
    extrude(amount=BOX001_DEPTH)


with BuildPart() as cylinder004:
    # Cylinder004 → Cylinder004 (new body)
    with BuildSketch(Plane.XY):
        Circle(CYLINDER004_R)
    extrude(amount=CYLINDER004_DEPTH)


with BuildPart() as cylinder004_1:
    # Cylinder004 roll: moved
    add(cylinder004.part.rotate(Axis((0, 0, 0), (1, 0, 0)), CYLINDER004_ROLL_ANGLE))


with BuildPart() as cylinder004_2:
    # Cylinder004 placement: moved
    add(cylinder004_1.part.moved(Location((15, 5, 20))))


with BuildPart() as cylinder006:
    # Cylinder006 → Cylinder006 (new body)
    with BuildSketch(Plane.XY):
        Circle(CYLINDER006_R)
    extrude(amount=CYLINDER006_DEPTH)


with BuildPart() as cylinder006_1:
    # Cylinder006 roll: moved
    add(cylinder006.part.rotate(Axis((0, 0, 0), (1, 0, 0)), CYLINDER006_ROLL_ANGLE))


with BuildPart() as cylinder006_2:
    # Cylinder006 placement: moved
    add(cylinder006_1.part.moved(Location((35, 5, 20))))


with BuildPart() as cylinder005:
    # Cylinder005 → Cylinder005 (new body)
    with BuildSketch(Plane.XY):
        Circle(CYLINDER005_R)
    extrude(amount=CYLINDER005_DEPTH)


with BuildPart() as cylinder005_1:
    # Cylinder005 roll: moved
    add(cylinder005.part.rotate(Axis((0, 0, 0), (1, 0, 0)), CYLINDER005_ROLL_ANGLE))


with BuildPart() as cylinder005_2:
    # Cylinder005 placement: moved
    add(cylinder005_1.part.moved(Location((55, 5, 20))))


with BuildPart() as cylinder007:
    # Cylinder007 → Cylinder007 (new body)
    with BuildSketch(Plane.XY):
        Circle(CYLINDER007_R)
    extrude(amount=CYLINDER007_DEPTH)


with BuildPart() as cylinder007_1:
    # Cylinder007 roll: moved
    add(cylinder007.part.rotate(Axis((0, 0, 0), (1, 0, 0)), CYLINDER007_ROLL_ANGLE))


with BuildPart() as cylinder007_2:
    # Cylinder007 placement: moved
    add(cylinder007_1.part.moved(Location((75, 5, 20))))


with BuildPart() as fusion003:
    # Box020 → Box020 (new body)
    with BuildSketch(Plane(origin=(37, -5, 3), x_dir=(1, 0, 0), z_dir=(0, 0, 1))):
        with Locations((8, 5)):
            Rectangle(BOX020_W, BOX020_H)
    extrude(amount=BOX020_DEPTH)

    # Fusion003: union Cylinder004, Cylinder006, Cylinder005, Cylinder007
    add(cylinder004_2.part)
    add(cylinder006_2.part)
    add(cylinder005_2.part)
    add(cylinder007_2.part)


with BuildPart() as cube019:
    # Box019 → Box019 (new body)
    with BuildSketch(Plane(origin=(17.5, 0, 87.5), x_dir=(1, 0, 0), z_dir=(0, 0, 1))):
        with Locations((27.5, 0.75)):
            Rectangle(BOX019_W, BOX019_H)
    extrude(amount=BOX019_DEPTH)


with BuildPart() as cut004:
    # Box018 → Box018 (new body)
    with BuildSketch(Plane.XY):
        with Locations((45, 0.75)):
            Rectangle(BOX018_W, BOX018_H)
    extrude(amount=BOX018_DEPTH)

    # Cut003: cut Cube019
    add(cube019.part, mode=Mode.SUBTRACT)

    # Cut004: cut Fusion003
    add(fusion003.part, mode=Mode.SUBTRACT)


with BuildPart() as cut008:
    # Box004 → Box004 (new body)
    with BuildSketch(Plane(origin=(1.5, 1.5, 138.5), x_dir=(1, 0, 0), z_dir=(0, 0, 1))):
        with Locations((43.5, 13.5)):
            Rectangle(BOX004_W, BOX004_H)
    extrude(amount=BOX004_DEPTH)

    # Fusion: union Cube, Cube002, Cube001, Cut004
    add(cube.part)
    add(cube002.part)
    add(cube001.part)
    add(cut004.part)

    # Cut007: cut Fusion007
    add(fusion007.part, mode=Mode.SUBTRACT)

    # Cut008: cut Fusion012
    add(fusion012.part, mode=Mode.SUBTRACT)


solid = Compound([cube011.part, fusion001.part, cut.part, fusion008.part, fusion010.part, fusion011.part, cut008.part])
